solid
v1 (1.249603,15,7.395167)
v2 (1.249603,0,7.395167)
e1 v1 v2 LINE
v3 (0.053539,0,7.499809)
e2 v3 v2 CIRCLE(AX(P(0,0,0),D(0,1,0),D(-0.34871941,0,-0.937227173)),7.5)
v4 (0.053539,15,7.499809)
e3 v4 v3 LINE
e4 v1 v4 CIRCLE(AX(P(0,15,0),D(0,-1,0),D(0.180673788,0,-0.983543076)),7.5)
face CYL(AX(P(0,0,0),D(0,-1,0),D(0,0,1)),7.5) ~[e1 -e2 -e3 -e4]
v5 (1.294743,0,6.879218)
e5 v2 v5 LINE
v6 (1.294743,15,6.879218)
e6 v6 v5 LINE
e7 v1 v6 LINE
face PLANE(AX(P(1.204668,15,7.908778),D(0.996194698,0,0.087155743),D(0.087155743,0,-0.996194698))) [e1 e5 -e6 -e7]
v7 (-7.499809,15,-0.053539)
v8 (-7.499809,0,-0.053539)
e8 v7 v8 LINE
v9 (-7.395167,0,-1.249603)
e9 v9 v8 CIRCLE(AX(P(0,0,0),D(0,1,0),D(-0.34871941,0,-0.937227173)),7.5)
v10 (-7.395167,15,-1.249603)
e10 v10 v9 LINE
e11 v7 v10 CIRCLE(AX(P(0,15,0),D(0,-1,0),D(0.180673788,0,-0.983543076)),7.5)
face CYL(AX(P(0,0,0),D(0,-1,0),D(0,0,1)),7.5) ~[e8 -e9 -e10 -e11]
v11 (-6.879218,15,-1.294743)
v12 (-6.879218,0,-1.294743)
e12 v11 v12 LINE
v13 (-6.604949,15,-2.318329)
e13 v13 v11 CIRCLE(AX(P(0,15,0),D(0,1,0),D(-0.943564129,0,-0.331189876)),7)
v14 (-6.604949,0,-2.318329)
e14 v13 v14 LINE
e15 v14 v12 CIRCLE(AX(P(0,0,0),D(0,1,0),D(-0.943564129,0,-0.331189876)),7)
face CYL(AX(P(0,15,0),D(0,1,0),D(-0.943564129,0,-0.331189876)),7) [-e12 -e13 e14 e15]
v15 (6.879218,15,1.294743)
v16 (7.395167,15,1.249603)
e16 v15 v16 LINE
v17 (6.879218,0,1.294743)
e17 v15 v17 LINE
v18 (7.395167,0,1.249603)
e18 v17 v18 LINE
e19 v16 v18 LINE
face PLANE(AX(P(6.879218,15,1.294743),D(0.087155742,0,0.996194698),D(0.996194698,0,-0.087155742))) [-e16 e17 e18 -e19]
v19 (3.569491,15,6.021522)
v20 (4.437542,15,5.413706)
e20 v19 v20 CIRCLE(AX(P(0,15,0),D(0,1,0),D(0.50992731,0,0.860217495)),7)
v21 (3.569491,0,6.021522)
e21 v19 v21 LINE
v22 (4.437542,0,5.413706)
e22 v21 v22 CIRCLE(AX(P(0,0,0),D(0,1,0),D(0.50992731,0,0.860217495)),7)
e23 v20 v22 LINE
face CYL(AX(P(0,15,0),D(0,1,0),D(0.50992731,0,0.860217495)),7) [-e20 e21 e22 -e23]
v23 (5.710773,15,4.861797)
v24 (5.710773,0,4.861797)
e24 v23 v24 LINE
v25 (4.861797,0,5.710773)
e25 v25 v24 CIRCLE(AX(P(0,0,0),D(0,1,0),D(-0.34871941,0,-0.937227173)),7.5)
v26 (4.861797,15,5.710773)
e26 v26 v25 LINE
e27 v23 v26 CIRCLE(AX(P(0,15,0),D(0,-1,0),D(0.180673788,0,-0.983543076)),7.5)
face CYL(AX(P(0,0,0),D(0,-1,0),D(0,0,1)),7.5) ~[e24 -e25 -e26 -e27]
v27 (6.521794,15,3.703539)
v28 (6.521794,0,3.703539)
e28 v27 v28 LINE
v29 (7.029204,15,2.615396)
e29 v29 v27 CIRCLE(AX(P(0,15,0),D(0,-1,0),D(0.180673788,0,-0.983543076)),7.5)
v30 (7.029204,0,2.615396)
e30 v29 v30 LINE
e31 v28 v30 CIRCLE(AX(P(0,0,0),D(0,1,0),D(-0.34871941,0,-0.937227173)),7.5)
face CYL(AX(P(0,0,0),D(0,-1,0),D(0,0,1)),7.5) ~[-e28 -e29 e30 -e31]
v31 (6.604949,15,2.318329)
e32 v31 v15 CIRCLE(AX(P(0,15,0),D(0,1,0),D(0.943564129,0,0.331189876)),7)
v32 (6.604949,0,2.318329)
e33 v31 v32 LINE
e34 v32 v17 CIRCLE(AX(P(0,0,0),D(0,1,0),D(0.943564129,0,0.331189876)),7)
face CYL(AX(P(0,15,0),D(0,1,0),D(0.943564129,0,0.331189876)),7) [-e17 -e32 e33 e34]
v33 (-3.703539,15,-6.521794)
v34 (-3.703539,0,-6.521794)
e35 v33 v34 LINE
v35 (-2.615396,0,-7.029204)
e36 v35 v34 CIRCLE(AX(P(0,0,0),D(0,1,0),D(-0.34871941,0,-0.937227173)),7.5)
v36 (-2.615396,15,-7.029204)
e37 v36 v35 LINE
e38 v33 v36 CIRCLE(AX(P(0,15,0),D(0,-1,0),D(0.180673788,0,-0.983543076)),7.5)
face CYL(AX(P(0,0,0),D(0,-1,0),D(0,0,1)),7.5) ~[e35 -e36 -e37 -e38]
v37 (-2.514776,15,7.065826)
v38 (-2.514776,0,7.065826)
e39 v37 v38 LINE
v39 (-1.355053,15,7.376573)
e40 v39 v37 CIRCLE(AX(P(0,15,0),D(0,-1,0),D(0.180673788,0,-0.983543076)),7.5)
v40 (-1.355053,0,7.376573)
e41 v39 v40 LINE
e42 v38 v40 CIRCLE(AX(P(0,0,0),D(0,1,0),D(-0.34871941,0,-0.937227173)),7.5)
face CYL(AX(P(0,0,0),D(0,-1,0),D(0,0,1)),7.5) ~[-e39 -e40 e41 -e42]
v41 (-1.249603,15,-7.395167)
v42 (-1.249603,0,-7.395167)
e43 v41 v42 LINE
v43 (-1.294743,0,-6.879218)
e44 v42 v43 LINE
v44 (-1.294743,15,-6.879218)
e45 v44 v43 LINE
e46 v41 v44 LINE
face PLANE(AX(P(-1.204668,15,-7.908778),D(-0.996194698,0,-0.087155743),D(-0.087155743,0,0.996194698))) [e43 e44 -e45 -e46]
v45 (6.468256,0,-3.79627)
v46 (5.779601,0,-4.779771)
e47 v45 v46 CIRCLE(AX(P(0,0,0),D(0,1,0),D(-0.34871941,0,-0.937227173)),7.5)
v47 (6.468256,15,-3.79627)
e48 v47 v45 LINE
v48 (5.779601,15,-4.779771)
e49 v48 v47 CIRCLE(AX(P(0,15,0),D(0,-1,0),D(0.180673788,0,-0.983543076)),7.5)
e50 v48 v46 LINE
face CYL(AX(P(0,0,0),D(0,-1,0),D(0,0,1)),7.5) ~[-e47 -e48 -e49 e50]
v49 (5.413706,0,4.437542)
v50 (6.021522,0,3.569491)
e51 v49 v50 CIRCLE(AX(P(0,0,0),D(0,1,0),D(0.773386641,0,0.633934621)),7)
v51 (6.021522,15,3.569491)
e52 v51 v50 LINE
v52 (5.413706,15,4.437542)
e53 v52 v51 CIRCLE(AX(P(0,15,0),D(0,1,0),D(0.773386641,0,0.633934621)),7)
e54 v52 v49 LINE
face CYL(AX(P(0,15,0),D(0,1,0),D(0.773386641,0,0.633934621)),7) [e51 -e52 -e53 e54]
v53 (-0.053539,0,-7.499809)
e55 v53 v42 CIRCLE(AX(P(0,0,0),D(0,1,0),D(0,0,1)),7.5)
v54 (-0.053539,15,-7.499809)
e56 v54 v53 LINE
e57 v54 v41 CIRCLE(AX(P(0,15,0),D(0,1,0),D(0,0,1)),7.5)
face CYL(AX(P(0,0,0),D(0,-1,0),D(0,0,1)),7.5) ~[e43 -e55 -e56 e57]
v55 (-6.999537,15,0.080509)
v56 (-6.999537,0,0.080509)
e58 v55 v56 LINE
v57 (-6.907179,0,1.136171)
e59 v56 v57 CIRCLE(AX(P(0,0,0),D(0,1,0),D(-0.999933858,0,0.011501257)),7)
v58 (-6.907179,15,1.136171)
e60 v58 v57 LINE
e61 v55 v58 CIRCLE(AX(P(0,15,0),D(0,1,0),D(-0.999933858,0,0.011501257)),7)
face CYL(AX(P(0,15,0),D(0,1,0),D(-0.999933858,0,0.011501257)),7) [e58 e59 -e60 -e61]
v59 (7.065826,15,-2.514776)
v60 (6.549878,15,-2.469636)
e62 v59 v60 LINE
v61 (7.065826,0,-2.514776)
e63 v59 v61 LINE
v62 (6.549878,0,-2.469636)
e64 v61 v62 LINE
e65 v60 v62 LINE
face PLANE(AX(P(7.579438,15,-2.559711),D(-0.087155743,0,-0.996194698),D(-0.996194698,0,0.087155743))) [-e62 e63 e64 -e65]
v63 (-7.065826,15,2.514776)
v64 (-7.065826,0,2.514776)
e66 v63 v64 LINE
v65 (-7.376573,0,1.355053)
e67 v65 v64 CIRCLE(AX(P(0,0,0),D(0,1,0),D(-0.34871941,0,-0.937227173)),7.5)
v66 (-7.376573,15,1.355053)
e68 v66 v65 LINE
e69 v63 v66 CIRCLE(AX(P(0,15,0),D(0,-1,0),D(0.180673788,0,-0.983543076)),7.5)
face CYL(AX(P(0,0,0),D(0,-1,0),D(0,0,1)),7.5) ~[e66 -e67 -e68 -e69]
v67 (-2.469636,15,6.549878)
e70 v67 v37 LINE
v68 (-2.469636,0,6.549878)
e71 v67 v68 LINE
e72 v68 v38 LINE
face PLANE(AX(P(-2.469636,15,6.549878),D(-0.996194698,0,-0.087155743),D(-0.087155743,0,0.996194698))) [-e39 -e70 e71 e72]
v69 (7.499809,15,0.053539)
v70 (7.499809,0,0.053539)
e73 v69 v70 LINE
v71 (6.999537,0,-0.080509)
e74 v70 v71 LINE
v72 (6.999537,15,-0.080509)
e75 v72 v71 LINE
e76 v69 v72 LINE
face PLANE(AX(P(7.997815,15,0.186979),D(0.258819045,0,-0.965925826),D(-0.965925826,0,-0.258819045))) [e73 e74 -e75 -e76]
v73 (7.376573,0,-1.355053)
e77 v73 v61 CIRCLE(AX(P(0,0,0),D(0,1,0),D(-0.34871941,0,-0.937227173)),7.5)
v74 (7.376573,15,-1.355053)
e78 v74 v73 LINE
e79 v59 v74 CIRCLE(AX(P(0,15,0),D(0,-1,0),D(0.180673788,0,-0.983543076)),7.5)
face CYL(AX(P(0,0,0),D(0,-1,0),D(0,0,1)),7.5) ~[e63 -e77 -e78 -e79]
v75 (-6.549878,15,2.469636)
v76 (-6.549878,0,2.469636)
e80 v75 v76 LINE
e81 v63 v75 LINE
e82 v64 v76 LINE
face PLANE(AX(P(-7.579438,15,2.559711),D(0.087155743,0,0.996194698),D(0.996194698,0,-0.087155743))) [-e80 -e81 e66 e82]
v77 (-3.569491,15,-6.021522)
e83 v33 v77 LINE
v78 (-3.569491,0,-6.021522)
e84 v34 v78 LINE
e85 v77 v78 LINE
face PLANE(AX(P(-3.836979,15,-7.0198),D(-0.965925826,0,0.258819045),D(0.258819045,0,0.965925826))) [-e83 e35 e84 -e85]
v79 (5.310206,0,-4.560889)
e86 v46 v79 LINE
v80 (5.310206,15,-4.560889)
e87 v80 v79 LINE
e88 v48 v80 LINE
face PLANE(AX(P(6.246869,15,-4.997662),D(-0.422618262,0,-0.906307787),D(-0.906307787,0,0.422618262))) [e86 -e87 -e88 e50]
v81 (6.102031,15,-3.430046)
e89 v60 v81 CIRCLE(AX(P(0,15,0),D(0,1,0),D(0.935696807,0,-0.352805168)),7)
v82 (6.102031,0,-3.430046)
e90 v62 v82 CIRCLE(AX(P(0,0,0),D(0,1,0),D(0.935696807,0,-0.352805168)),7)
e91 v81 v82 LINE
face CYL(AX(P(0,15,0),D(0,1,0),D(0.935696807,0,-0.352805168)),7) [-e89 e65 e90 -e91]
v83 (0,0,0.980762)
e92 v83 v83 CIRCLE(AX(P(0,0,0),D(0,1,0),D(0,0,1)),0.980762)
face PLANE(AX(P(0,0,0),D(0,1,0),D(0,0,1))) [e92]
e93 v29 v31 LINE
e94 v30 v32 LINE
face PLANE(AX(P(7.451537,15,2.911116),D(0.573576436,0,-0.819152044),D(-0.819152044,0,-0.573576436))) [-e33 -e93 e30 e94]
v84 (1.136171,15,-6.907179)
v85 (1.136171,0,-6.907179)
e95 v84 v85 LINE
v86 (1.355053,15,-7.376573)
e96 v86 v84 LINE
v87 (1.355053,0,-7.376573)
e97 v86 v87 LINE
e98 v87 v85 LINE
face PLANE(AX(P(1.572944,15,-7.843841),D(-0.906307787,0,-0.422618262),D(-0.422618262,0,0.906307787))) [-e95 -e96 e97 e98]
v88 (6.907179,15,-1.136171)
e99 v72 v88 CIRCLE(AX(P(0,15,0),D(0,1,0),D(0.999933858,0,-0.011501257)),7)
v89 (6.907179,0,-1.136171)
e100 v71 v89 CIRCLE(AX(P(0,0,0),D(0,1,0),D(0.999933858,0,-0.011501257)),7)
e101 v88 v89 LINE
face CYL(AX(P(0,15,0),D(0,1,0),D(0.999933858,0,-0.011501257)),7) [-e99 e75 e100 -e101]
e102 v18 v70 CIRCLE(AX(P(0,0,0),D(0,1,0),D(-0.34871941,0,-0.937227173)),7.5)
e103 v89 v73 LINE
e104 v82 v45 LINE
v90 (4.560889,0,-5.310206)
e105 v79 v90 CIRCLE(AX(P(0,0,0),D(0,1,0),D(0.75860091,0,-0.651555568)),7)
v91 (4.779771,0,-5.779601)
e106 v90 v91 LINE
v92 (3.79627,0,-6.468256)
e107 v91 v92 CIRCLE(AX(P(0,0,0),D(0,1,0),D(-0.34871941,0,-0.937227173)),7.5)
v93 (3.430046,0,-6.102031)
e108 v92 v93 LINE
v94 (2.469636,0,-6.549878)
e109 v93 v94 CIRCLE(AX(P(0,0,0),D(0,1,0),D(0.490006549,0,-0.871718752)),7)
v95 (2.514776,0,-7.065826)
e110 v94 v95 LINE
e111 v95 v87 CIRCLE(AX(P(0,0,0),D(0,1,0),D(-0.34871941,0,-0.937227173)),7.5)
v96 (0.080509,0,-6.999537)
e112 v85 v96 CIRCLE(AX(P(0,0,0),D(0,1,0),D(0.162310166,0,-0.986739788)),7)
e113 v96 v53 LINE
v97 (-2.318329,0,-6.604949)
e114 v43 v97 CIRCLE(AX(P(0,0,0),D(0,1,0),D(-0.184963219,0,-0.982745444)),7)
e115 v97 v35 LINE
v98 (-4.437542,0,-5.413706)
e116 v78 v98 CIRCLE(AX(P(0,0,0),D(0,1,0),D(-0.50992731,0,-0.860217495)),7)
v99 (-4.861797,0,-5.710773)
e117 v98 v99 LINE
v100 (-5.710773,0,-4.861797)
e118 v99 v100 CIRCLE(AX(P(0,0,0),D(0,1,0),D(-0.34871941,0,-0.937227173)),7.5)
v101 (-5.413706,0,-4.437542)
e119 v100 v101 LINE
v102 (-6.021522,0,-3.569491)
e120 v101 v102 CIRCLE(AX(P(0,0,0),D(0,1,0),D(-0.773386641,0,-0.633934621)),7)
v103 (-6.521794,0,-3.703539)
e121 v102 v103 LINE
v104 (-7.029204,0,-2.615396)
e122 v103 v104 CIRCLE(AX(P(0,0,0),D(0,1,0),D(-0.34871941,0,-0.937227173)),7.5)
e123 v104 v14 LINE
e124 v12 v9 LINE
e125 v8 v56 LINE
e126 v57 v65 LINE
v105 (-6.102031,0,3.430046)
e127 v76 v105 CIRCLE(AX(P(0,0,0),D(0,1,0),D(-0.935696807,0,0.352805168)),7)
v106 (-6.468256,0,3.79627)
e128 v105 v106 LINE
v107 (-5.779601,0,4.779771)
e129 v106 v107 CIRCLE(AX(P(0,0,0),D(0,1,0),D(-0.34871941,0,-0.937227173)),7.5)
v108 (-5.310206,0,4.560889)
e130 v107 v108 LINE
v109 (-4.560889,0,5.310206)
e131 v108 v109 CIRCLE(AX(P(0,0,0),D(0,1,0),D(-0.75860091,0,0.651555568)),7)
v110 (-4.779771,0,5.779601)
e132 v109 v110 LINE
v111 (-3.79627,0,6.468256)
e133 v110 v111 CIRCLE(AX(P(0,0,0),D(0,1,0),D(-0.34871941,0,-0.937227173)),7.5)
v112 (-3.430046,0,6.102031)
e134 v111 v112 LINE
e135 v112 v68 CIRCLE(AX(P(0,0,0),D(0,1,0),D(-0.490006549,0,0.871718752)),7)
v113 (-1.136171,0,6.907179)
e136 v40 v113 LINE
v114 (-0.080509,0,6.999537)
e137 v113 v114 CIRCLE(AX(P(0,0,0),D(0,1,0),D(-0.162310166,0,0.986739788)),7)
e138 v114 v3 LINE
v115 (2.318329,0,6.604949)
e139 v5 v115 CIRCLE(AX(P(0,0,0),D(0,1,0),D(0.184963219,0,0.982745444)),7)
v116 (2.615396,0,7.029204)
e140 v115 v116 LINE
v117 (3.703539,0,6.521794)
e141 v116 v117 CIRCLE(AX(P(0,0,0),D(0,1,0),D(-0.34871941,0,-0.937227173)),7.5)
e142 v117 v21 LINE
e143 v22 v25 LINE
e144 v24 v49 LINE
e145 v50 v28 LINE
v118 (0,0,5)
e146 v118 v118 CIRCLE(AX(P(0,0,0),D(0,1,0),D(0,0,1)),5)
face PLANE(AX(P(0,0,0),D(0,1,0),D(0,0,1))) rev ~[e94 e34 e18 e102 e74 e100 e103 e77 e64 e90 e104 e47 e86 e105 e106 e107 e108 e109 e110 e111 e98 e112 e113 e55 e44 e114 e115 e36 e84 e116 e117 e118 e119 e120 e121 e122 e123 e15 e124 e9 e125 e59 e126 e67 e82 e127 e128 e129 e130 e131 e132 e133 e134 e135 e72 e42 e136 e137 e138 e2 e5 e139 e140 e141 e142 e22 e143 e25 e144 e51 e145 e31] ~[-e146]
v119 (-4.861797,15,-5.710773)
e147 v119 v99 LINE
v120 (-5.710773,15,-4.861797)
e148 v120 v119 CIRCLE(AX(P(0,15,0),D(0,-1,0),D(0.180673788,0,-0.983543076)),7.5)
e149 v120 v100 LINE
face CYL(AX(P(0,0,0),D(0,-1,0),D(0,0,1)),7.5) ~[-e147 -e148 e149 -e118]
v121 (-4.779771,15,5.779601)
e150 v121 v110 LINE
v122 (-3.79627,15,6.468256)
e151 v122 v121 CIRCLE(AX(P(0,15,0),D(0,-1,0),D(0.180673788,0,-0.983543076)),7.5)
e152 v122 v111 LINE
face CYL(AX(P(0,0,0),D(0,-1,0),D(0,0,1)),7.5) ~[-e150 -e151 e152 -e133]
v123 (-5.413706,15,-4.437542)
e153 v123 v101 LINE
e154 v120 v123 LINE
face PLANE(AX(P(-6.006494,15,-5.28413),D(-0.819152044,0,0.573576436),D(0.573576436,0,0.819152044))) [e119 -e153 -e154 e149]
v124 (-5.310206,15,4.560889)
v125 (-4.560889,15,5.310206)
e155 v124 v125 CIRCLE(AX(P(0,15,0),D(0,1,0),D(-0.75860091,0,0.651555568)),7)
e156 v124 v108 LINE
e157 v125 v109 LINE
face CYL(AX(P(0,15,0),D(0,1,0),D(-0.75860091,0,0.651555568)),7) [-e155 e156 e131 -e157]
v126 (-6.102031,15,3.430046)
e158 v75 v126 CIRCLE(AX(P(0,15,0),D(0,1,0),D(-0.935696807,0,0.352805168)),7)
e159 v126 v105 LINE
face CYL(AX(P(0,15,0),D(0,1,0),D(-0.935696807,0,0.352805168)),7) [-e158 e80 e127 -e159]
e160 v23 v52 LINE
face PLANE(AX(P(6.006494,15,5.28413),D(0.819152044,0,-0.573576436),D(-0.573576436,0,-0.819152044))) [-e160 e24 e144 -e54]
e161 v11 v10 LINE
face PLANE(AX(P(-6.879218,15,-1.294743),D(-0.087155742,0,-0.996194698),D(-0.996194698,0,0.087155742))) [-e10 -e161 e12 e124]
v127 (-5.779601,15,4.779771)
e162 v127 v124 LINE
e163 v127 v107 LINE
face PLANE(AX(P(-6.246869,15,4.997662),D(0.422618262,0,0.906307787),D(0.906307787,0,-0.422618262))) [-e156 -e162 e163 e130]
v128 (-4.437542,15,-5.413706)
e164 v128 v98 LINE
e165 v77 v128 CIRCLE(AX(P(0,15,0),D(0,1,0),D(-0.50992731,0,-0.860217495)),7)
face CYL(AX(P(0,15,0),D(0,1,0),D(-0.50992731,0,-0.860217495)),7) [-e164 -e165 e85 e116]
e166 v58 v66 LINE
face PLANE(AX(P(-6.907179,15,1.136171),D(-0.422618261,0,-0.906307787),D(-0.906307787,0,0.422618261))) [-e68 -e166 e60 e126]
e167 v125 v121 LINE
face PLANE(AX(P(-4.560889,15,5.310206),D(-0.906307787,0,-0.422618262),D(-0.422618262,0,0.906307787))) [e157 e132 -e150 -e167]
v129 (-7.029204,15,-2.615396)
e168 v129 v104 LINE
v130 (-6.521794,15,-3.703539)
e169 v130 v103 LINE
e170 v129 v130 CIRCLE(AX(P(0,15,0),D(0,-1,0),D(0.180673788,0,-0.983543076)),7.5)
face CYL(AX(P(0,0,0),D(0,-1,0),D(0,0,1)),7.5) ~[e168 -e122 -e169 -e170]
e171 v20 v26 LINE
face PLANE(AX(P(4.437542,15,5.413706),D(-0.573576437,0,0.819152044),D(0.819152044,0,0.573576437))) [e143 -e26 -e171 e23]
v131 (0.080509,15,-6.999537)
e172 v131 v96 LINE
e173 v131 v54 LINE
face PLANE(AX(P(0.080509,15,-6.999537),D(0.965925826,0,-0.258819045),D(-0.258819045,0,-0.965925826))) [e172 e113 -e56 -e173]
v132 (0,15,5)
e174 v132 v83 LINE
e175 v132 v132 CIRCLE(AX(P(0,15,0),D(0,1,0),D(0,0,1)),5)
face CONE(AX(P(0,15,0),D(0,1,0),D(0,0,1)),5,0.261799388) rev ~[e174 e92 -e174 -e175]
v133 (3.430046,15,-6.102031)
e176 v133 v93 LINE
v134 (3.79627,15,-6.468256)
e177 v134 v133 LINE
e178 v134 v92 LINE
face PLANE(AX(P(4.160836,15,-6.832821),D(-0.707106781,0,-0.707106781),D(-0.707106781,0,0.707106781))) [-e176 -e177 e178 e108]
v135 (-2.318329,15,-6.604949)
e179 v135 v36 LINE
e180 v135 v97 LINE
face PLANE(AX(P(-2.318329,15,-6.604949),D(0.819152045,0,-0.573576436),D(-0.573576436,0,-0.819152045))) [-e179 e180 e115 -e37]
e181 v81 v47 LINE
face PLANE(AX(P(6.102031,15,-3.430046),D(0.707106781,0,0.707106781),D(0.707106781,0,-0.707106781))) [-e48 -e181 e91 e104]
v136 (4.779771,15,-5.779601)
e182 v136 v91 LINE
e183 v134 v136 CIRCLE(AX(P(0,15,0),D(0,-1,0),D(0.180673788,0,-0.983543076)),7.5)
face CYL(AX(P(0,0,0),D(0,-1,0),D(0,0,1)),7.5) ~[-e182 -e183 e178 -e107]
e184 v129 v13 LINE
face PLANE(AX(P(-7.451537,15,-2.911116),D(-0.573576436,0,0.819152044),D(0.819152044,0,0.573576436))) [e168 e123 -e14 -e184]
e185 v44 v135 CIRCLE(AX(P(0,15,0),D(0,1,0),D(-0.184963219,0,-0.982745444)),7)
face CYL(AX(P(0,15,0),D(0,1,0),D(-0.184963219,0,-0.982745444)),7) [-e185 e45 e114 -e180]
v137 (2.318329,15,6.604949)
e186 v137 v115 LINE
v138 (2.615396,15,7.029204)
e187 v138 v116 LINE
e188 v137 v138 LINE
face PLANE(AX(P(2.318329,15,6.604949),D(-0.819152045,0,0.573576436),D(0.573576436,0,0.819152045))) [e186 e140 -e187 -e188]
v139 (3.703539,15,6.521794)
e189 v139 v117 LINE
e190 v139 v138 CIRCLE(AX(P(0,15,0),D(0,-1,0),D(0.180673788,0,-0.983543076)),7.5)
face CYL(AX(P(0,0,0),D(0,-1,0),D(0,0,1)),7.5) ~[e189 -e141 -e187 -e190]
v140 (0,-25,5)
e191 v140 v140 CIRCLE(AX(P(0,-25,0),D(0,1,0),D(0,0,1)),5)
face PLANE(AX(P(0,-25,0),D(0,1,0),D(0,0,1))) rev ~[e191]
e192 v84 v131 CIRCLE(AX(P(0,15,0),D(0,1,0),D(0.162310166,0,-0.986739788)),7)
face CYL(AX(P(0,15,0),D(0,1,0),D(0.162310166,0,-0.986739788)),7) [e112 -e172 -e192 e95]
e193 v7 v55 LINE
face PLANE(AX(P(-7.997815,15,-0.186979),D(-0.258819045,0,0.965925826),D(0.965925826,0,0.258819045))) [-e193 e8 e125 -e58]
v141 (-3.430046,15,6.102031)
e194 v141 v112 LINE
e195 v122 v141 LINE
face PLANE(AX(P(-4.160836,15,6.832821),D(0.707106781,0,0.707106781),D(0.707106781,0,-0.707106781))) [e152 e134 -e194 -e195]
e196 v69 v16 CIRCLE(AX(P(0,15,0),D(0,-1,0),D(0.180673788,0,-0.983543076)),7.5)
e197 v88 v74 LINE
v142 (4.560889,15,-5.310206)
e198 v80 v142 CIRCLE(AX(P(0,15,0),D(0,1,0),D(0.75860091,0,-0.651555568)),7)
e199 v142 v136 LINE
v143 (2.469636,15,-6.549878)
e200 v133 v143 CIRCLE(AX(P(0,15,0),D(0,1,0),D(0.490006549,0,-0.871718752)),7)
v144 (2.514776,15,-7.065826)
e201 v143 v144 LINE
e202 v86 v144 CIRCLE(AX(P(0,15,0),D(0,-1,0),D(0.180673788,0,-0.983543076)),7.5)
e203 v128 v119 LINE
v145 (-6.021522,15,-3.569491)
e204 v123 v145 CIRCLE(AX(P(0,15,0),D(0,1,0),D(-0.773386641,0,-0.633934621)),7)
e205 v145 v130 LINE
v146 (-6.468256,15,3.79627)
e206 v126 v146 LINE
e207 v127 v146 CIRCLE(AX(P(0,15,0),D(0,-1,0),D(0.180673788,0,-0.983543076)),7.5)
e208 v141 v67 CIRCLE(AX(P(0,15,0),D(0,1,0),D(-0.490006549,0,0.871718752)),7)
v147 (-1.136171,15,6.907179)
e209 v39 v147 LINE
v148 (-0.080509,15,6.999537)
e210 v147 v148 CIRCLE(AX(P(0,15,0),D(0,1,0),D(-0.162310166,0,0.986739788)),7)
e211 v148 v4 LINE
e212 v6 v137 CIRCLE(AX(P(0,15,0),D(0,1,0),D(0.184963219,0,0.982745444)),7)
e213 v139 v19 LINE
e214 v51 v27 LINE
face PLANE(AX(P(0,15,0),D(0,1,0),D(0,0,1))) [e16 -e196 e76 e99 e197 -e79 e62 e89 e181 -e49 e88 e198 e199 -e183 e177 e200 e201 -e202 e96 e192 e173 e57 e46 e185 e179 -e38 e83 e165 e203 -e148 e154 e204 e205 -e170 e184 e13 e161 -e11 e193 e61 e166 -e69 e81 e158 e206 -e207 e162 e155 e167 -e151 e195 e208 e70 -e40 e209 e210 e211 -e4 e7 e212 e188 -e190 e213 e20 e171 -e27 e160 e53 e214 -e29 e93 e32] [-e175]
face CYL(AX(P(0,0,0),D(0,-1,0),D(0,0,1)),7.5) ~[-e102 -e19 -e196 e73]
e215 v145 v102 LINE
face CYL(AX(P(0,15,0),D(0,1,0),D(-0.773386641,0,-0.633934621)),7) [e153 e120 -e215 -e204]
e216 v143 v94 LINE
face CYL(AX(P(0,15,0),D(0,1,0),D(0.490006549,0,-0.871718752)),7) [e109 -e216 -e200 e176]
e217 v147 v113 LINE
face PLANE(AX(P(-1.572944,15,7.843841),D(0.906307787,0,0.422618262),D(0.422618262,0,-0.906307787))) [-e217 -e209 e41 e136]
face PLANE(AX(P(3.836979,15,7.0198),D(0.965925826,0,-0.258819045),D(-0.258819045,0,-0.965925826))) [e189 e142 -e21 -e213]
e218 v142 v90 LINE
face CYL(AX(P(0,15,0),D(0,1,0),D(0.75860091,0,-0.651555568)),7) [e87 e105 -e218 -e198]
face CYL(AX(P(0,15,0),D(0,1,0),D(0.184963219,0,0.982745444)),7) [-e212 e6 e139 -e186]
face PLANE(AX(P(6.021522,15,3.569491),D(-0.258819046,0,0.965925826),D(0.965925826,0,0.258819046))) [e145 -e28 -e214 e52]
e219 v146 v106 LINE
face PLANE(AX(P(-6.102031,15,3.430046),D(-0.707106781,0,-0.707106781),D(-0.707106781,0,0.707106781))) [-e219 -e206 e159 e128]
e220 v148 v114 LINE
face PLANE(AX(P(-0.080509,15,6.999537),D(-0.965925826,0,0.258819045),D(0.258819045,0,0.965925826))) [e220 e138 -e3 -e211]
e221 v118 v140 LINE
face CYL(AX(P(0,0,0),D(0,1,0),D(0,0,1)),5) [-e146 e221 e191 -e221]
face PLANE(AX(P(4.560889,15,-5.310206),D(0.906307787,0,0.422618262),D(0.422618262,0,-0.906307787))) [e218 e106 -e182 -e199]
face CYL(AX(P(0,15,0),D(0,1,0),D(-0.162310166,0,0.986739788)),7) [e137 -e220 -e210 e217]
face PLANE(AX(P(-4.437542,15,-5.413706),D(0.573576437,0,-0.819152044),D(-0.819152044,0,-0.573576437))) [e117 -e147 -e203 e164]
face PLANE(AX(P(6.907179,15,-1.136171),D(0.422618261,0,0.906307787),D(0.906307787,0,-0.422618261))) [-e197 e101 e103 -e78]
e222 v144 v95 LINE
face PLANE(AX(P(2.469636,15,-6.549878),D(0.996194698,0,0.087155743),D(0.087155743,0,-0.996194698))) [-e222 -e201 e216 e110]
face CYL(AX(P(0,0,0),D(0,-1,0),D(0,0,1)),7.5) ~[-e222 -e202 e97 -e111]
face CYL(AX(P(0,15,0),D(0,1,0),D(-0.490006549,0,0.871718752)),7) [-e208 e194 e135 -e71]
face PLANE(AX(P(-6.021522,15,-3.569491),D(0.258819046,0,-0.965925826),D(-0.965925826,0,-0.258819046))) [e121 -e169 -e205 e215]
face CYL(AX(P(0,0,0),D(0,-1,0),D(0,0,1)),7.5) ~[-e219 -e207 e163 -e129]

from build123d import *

# Parameters (mm, degrees)
SKETCH1_R           = 7.5
BOSS_EXTRUDE1_DEPTH = 15
SKETCH1_3_R         = 5
BOSS_EXTRUDE2_DEPTH = 25
CUT_EXTRUDE1_DEPTH  = 42.382363393
SKETCH3_R           = 5
CUT_EXTRUDE2_DEPTH  = 15
CUT_EXTRUDE2_DRAFT  = -15
CIRPATTERN1_COUNT   = 18


with BuildPart() as part:
    # Sketch1 → Boss-Extrude1 (new body)
    with BuildSketch(Plane(origin=(0, 0, 0), x_dir=(1, 0, 0), z_dir=(0, 1, 0))):
        Circle(SKETCH1_R)
    extrude(amount=BOSS_EXTRUDE1_DEPTH)

    # Sketch1<3> → Boss-Extrude2 (add)
    with BuildSketch(Plane(origin=(0, 0, 0), x_dir=(1, 0, 0), z_dir=(0, 1, 0))):
        Circle(SKETCH1_3_R)
    extrude(amount=-BOSS_EXTRUDE2_DEPTH)

    # Sketch2 → Cut-Extrude1 (cut, through all)
    with BuildSketch(Plane(origin=(0, 15, 0), x_dir=(1, 0, 0), z_dir=(0, 1, 0))):
        with BuildLine():
            Line((1.572944175, 7.843841318), (1.13617114, 6.907178522))
            ThreePointArc((1.13617114, 6.907178522), (0.610090199, 6.973362887), (0.080508816, 6.999537008))
            Line((0.080508816, 6.999537008), (-0.186978867, 7.997814633))
            ThreePointArc((-0.186978867, 7.997814633), (0.697245942, 7.969557585), (1.572944175, 7.843841318))
        make_face()
    cut_extrude1 = extrude(amount=-CUT_EXTRUDE1_DEPTH, mode=Mode.SUBTRACT)


with BuildPart() as cut_extrude2_tool:
    # Sketch3 → Cut-Extrude2 (with draft: the straight prism first)
    with BuildSketch(Plane(origin=(0, 15, 0), x_dir=(1, 0, 0), z_dir=(0, 1, 0))):
        Circle(SKETCH3_R)
    extrude(amount=-CUT_EXTRUDE2_DEPTH)
    # Cut-Extrude2: the draft: its side faces are tilted about the plane it starts from
    cut_extrude2_sides = [cut_extrude2_tool.faces().sort_by_distance(p)[0] for p in [
        (-5, 7.5, 0),
    ]]
    draft(cut_extrude2_sides, Plane(origin=(0, 15, 0), x_dir=(1, 0, 0), z_dir=(0, 1, 0)), CUT_EXTRUDE2_DRAFT)


with BuildPart() as part_1:
    add(part.part)

    # Cut-Extrude2: cut by cut_extrude2_tool
    add(cut_extrude2_tool.part, mode=Mode.SUBTRACT)

    # CirPattern1: Cut-Extrude1 ×18 about axis
    cirpattern1_axis = Axis((0, 15, 0), (0, 1, 0))
    for i in range(1, CIRPATTERN1_COUNT):
        add(cut_extrude1.rotate(cirpattern1_axis, i * 360 / CIRPATTERN1_COUNT), mode=Mode.SUBTRACT)


solid = part_1.part
